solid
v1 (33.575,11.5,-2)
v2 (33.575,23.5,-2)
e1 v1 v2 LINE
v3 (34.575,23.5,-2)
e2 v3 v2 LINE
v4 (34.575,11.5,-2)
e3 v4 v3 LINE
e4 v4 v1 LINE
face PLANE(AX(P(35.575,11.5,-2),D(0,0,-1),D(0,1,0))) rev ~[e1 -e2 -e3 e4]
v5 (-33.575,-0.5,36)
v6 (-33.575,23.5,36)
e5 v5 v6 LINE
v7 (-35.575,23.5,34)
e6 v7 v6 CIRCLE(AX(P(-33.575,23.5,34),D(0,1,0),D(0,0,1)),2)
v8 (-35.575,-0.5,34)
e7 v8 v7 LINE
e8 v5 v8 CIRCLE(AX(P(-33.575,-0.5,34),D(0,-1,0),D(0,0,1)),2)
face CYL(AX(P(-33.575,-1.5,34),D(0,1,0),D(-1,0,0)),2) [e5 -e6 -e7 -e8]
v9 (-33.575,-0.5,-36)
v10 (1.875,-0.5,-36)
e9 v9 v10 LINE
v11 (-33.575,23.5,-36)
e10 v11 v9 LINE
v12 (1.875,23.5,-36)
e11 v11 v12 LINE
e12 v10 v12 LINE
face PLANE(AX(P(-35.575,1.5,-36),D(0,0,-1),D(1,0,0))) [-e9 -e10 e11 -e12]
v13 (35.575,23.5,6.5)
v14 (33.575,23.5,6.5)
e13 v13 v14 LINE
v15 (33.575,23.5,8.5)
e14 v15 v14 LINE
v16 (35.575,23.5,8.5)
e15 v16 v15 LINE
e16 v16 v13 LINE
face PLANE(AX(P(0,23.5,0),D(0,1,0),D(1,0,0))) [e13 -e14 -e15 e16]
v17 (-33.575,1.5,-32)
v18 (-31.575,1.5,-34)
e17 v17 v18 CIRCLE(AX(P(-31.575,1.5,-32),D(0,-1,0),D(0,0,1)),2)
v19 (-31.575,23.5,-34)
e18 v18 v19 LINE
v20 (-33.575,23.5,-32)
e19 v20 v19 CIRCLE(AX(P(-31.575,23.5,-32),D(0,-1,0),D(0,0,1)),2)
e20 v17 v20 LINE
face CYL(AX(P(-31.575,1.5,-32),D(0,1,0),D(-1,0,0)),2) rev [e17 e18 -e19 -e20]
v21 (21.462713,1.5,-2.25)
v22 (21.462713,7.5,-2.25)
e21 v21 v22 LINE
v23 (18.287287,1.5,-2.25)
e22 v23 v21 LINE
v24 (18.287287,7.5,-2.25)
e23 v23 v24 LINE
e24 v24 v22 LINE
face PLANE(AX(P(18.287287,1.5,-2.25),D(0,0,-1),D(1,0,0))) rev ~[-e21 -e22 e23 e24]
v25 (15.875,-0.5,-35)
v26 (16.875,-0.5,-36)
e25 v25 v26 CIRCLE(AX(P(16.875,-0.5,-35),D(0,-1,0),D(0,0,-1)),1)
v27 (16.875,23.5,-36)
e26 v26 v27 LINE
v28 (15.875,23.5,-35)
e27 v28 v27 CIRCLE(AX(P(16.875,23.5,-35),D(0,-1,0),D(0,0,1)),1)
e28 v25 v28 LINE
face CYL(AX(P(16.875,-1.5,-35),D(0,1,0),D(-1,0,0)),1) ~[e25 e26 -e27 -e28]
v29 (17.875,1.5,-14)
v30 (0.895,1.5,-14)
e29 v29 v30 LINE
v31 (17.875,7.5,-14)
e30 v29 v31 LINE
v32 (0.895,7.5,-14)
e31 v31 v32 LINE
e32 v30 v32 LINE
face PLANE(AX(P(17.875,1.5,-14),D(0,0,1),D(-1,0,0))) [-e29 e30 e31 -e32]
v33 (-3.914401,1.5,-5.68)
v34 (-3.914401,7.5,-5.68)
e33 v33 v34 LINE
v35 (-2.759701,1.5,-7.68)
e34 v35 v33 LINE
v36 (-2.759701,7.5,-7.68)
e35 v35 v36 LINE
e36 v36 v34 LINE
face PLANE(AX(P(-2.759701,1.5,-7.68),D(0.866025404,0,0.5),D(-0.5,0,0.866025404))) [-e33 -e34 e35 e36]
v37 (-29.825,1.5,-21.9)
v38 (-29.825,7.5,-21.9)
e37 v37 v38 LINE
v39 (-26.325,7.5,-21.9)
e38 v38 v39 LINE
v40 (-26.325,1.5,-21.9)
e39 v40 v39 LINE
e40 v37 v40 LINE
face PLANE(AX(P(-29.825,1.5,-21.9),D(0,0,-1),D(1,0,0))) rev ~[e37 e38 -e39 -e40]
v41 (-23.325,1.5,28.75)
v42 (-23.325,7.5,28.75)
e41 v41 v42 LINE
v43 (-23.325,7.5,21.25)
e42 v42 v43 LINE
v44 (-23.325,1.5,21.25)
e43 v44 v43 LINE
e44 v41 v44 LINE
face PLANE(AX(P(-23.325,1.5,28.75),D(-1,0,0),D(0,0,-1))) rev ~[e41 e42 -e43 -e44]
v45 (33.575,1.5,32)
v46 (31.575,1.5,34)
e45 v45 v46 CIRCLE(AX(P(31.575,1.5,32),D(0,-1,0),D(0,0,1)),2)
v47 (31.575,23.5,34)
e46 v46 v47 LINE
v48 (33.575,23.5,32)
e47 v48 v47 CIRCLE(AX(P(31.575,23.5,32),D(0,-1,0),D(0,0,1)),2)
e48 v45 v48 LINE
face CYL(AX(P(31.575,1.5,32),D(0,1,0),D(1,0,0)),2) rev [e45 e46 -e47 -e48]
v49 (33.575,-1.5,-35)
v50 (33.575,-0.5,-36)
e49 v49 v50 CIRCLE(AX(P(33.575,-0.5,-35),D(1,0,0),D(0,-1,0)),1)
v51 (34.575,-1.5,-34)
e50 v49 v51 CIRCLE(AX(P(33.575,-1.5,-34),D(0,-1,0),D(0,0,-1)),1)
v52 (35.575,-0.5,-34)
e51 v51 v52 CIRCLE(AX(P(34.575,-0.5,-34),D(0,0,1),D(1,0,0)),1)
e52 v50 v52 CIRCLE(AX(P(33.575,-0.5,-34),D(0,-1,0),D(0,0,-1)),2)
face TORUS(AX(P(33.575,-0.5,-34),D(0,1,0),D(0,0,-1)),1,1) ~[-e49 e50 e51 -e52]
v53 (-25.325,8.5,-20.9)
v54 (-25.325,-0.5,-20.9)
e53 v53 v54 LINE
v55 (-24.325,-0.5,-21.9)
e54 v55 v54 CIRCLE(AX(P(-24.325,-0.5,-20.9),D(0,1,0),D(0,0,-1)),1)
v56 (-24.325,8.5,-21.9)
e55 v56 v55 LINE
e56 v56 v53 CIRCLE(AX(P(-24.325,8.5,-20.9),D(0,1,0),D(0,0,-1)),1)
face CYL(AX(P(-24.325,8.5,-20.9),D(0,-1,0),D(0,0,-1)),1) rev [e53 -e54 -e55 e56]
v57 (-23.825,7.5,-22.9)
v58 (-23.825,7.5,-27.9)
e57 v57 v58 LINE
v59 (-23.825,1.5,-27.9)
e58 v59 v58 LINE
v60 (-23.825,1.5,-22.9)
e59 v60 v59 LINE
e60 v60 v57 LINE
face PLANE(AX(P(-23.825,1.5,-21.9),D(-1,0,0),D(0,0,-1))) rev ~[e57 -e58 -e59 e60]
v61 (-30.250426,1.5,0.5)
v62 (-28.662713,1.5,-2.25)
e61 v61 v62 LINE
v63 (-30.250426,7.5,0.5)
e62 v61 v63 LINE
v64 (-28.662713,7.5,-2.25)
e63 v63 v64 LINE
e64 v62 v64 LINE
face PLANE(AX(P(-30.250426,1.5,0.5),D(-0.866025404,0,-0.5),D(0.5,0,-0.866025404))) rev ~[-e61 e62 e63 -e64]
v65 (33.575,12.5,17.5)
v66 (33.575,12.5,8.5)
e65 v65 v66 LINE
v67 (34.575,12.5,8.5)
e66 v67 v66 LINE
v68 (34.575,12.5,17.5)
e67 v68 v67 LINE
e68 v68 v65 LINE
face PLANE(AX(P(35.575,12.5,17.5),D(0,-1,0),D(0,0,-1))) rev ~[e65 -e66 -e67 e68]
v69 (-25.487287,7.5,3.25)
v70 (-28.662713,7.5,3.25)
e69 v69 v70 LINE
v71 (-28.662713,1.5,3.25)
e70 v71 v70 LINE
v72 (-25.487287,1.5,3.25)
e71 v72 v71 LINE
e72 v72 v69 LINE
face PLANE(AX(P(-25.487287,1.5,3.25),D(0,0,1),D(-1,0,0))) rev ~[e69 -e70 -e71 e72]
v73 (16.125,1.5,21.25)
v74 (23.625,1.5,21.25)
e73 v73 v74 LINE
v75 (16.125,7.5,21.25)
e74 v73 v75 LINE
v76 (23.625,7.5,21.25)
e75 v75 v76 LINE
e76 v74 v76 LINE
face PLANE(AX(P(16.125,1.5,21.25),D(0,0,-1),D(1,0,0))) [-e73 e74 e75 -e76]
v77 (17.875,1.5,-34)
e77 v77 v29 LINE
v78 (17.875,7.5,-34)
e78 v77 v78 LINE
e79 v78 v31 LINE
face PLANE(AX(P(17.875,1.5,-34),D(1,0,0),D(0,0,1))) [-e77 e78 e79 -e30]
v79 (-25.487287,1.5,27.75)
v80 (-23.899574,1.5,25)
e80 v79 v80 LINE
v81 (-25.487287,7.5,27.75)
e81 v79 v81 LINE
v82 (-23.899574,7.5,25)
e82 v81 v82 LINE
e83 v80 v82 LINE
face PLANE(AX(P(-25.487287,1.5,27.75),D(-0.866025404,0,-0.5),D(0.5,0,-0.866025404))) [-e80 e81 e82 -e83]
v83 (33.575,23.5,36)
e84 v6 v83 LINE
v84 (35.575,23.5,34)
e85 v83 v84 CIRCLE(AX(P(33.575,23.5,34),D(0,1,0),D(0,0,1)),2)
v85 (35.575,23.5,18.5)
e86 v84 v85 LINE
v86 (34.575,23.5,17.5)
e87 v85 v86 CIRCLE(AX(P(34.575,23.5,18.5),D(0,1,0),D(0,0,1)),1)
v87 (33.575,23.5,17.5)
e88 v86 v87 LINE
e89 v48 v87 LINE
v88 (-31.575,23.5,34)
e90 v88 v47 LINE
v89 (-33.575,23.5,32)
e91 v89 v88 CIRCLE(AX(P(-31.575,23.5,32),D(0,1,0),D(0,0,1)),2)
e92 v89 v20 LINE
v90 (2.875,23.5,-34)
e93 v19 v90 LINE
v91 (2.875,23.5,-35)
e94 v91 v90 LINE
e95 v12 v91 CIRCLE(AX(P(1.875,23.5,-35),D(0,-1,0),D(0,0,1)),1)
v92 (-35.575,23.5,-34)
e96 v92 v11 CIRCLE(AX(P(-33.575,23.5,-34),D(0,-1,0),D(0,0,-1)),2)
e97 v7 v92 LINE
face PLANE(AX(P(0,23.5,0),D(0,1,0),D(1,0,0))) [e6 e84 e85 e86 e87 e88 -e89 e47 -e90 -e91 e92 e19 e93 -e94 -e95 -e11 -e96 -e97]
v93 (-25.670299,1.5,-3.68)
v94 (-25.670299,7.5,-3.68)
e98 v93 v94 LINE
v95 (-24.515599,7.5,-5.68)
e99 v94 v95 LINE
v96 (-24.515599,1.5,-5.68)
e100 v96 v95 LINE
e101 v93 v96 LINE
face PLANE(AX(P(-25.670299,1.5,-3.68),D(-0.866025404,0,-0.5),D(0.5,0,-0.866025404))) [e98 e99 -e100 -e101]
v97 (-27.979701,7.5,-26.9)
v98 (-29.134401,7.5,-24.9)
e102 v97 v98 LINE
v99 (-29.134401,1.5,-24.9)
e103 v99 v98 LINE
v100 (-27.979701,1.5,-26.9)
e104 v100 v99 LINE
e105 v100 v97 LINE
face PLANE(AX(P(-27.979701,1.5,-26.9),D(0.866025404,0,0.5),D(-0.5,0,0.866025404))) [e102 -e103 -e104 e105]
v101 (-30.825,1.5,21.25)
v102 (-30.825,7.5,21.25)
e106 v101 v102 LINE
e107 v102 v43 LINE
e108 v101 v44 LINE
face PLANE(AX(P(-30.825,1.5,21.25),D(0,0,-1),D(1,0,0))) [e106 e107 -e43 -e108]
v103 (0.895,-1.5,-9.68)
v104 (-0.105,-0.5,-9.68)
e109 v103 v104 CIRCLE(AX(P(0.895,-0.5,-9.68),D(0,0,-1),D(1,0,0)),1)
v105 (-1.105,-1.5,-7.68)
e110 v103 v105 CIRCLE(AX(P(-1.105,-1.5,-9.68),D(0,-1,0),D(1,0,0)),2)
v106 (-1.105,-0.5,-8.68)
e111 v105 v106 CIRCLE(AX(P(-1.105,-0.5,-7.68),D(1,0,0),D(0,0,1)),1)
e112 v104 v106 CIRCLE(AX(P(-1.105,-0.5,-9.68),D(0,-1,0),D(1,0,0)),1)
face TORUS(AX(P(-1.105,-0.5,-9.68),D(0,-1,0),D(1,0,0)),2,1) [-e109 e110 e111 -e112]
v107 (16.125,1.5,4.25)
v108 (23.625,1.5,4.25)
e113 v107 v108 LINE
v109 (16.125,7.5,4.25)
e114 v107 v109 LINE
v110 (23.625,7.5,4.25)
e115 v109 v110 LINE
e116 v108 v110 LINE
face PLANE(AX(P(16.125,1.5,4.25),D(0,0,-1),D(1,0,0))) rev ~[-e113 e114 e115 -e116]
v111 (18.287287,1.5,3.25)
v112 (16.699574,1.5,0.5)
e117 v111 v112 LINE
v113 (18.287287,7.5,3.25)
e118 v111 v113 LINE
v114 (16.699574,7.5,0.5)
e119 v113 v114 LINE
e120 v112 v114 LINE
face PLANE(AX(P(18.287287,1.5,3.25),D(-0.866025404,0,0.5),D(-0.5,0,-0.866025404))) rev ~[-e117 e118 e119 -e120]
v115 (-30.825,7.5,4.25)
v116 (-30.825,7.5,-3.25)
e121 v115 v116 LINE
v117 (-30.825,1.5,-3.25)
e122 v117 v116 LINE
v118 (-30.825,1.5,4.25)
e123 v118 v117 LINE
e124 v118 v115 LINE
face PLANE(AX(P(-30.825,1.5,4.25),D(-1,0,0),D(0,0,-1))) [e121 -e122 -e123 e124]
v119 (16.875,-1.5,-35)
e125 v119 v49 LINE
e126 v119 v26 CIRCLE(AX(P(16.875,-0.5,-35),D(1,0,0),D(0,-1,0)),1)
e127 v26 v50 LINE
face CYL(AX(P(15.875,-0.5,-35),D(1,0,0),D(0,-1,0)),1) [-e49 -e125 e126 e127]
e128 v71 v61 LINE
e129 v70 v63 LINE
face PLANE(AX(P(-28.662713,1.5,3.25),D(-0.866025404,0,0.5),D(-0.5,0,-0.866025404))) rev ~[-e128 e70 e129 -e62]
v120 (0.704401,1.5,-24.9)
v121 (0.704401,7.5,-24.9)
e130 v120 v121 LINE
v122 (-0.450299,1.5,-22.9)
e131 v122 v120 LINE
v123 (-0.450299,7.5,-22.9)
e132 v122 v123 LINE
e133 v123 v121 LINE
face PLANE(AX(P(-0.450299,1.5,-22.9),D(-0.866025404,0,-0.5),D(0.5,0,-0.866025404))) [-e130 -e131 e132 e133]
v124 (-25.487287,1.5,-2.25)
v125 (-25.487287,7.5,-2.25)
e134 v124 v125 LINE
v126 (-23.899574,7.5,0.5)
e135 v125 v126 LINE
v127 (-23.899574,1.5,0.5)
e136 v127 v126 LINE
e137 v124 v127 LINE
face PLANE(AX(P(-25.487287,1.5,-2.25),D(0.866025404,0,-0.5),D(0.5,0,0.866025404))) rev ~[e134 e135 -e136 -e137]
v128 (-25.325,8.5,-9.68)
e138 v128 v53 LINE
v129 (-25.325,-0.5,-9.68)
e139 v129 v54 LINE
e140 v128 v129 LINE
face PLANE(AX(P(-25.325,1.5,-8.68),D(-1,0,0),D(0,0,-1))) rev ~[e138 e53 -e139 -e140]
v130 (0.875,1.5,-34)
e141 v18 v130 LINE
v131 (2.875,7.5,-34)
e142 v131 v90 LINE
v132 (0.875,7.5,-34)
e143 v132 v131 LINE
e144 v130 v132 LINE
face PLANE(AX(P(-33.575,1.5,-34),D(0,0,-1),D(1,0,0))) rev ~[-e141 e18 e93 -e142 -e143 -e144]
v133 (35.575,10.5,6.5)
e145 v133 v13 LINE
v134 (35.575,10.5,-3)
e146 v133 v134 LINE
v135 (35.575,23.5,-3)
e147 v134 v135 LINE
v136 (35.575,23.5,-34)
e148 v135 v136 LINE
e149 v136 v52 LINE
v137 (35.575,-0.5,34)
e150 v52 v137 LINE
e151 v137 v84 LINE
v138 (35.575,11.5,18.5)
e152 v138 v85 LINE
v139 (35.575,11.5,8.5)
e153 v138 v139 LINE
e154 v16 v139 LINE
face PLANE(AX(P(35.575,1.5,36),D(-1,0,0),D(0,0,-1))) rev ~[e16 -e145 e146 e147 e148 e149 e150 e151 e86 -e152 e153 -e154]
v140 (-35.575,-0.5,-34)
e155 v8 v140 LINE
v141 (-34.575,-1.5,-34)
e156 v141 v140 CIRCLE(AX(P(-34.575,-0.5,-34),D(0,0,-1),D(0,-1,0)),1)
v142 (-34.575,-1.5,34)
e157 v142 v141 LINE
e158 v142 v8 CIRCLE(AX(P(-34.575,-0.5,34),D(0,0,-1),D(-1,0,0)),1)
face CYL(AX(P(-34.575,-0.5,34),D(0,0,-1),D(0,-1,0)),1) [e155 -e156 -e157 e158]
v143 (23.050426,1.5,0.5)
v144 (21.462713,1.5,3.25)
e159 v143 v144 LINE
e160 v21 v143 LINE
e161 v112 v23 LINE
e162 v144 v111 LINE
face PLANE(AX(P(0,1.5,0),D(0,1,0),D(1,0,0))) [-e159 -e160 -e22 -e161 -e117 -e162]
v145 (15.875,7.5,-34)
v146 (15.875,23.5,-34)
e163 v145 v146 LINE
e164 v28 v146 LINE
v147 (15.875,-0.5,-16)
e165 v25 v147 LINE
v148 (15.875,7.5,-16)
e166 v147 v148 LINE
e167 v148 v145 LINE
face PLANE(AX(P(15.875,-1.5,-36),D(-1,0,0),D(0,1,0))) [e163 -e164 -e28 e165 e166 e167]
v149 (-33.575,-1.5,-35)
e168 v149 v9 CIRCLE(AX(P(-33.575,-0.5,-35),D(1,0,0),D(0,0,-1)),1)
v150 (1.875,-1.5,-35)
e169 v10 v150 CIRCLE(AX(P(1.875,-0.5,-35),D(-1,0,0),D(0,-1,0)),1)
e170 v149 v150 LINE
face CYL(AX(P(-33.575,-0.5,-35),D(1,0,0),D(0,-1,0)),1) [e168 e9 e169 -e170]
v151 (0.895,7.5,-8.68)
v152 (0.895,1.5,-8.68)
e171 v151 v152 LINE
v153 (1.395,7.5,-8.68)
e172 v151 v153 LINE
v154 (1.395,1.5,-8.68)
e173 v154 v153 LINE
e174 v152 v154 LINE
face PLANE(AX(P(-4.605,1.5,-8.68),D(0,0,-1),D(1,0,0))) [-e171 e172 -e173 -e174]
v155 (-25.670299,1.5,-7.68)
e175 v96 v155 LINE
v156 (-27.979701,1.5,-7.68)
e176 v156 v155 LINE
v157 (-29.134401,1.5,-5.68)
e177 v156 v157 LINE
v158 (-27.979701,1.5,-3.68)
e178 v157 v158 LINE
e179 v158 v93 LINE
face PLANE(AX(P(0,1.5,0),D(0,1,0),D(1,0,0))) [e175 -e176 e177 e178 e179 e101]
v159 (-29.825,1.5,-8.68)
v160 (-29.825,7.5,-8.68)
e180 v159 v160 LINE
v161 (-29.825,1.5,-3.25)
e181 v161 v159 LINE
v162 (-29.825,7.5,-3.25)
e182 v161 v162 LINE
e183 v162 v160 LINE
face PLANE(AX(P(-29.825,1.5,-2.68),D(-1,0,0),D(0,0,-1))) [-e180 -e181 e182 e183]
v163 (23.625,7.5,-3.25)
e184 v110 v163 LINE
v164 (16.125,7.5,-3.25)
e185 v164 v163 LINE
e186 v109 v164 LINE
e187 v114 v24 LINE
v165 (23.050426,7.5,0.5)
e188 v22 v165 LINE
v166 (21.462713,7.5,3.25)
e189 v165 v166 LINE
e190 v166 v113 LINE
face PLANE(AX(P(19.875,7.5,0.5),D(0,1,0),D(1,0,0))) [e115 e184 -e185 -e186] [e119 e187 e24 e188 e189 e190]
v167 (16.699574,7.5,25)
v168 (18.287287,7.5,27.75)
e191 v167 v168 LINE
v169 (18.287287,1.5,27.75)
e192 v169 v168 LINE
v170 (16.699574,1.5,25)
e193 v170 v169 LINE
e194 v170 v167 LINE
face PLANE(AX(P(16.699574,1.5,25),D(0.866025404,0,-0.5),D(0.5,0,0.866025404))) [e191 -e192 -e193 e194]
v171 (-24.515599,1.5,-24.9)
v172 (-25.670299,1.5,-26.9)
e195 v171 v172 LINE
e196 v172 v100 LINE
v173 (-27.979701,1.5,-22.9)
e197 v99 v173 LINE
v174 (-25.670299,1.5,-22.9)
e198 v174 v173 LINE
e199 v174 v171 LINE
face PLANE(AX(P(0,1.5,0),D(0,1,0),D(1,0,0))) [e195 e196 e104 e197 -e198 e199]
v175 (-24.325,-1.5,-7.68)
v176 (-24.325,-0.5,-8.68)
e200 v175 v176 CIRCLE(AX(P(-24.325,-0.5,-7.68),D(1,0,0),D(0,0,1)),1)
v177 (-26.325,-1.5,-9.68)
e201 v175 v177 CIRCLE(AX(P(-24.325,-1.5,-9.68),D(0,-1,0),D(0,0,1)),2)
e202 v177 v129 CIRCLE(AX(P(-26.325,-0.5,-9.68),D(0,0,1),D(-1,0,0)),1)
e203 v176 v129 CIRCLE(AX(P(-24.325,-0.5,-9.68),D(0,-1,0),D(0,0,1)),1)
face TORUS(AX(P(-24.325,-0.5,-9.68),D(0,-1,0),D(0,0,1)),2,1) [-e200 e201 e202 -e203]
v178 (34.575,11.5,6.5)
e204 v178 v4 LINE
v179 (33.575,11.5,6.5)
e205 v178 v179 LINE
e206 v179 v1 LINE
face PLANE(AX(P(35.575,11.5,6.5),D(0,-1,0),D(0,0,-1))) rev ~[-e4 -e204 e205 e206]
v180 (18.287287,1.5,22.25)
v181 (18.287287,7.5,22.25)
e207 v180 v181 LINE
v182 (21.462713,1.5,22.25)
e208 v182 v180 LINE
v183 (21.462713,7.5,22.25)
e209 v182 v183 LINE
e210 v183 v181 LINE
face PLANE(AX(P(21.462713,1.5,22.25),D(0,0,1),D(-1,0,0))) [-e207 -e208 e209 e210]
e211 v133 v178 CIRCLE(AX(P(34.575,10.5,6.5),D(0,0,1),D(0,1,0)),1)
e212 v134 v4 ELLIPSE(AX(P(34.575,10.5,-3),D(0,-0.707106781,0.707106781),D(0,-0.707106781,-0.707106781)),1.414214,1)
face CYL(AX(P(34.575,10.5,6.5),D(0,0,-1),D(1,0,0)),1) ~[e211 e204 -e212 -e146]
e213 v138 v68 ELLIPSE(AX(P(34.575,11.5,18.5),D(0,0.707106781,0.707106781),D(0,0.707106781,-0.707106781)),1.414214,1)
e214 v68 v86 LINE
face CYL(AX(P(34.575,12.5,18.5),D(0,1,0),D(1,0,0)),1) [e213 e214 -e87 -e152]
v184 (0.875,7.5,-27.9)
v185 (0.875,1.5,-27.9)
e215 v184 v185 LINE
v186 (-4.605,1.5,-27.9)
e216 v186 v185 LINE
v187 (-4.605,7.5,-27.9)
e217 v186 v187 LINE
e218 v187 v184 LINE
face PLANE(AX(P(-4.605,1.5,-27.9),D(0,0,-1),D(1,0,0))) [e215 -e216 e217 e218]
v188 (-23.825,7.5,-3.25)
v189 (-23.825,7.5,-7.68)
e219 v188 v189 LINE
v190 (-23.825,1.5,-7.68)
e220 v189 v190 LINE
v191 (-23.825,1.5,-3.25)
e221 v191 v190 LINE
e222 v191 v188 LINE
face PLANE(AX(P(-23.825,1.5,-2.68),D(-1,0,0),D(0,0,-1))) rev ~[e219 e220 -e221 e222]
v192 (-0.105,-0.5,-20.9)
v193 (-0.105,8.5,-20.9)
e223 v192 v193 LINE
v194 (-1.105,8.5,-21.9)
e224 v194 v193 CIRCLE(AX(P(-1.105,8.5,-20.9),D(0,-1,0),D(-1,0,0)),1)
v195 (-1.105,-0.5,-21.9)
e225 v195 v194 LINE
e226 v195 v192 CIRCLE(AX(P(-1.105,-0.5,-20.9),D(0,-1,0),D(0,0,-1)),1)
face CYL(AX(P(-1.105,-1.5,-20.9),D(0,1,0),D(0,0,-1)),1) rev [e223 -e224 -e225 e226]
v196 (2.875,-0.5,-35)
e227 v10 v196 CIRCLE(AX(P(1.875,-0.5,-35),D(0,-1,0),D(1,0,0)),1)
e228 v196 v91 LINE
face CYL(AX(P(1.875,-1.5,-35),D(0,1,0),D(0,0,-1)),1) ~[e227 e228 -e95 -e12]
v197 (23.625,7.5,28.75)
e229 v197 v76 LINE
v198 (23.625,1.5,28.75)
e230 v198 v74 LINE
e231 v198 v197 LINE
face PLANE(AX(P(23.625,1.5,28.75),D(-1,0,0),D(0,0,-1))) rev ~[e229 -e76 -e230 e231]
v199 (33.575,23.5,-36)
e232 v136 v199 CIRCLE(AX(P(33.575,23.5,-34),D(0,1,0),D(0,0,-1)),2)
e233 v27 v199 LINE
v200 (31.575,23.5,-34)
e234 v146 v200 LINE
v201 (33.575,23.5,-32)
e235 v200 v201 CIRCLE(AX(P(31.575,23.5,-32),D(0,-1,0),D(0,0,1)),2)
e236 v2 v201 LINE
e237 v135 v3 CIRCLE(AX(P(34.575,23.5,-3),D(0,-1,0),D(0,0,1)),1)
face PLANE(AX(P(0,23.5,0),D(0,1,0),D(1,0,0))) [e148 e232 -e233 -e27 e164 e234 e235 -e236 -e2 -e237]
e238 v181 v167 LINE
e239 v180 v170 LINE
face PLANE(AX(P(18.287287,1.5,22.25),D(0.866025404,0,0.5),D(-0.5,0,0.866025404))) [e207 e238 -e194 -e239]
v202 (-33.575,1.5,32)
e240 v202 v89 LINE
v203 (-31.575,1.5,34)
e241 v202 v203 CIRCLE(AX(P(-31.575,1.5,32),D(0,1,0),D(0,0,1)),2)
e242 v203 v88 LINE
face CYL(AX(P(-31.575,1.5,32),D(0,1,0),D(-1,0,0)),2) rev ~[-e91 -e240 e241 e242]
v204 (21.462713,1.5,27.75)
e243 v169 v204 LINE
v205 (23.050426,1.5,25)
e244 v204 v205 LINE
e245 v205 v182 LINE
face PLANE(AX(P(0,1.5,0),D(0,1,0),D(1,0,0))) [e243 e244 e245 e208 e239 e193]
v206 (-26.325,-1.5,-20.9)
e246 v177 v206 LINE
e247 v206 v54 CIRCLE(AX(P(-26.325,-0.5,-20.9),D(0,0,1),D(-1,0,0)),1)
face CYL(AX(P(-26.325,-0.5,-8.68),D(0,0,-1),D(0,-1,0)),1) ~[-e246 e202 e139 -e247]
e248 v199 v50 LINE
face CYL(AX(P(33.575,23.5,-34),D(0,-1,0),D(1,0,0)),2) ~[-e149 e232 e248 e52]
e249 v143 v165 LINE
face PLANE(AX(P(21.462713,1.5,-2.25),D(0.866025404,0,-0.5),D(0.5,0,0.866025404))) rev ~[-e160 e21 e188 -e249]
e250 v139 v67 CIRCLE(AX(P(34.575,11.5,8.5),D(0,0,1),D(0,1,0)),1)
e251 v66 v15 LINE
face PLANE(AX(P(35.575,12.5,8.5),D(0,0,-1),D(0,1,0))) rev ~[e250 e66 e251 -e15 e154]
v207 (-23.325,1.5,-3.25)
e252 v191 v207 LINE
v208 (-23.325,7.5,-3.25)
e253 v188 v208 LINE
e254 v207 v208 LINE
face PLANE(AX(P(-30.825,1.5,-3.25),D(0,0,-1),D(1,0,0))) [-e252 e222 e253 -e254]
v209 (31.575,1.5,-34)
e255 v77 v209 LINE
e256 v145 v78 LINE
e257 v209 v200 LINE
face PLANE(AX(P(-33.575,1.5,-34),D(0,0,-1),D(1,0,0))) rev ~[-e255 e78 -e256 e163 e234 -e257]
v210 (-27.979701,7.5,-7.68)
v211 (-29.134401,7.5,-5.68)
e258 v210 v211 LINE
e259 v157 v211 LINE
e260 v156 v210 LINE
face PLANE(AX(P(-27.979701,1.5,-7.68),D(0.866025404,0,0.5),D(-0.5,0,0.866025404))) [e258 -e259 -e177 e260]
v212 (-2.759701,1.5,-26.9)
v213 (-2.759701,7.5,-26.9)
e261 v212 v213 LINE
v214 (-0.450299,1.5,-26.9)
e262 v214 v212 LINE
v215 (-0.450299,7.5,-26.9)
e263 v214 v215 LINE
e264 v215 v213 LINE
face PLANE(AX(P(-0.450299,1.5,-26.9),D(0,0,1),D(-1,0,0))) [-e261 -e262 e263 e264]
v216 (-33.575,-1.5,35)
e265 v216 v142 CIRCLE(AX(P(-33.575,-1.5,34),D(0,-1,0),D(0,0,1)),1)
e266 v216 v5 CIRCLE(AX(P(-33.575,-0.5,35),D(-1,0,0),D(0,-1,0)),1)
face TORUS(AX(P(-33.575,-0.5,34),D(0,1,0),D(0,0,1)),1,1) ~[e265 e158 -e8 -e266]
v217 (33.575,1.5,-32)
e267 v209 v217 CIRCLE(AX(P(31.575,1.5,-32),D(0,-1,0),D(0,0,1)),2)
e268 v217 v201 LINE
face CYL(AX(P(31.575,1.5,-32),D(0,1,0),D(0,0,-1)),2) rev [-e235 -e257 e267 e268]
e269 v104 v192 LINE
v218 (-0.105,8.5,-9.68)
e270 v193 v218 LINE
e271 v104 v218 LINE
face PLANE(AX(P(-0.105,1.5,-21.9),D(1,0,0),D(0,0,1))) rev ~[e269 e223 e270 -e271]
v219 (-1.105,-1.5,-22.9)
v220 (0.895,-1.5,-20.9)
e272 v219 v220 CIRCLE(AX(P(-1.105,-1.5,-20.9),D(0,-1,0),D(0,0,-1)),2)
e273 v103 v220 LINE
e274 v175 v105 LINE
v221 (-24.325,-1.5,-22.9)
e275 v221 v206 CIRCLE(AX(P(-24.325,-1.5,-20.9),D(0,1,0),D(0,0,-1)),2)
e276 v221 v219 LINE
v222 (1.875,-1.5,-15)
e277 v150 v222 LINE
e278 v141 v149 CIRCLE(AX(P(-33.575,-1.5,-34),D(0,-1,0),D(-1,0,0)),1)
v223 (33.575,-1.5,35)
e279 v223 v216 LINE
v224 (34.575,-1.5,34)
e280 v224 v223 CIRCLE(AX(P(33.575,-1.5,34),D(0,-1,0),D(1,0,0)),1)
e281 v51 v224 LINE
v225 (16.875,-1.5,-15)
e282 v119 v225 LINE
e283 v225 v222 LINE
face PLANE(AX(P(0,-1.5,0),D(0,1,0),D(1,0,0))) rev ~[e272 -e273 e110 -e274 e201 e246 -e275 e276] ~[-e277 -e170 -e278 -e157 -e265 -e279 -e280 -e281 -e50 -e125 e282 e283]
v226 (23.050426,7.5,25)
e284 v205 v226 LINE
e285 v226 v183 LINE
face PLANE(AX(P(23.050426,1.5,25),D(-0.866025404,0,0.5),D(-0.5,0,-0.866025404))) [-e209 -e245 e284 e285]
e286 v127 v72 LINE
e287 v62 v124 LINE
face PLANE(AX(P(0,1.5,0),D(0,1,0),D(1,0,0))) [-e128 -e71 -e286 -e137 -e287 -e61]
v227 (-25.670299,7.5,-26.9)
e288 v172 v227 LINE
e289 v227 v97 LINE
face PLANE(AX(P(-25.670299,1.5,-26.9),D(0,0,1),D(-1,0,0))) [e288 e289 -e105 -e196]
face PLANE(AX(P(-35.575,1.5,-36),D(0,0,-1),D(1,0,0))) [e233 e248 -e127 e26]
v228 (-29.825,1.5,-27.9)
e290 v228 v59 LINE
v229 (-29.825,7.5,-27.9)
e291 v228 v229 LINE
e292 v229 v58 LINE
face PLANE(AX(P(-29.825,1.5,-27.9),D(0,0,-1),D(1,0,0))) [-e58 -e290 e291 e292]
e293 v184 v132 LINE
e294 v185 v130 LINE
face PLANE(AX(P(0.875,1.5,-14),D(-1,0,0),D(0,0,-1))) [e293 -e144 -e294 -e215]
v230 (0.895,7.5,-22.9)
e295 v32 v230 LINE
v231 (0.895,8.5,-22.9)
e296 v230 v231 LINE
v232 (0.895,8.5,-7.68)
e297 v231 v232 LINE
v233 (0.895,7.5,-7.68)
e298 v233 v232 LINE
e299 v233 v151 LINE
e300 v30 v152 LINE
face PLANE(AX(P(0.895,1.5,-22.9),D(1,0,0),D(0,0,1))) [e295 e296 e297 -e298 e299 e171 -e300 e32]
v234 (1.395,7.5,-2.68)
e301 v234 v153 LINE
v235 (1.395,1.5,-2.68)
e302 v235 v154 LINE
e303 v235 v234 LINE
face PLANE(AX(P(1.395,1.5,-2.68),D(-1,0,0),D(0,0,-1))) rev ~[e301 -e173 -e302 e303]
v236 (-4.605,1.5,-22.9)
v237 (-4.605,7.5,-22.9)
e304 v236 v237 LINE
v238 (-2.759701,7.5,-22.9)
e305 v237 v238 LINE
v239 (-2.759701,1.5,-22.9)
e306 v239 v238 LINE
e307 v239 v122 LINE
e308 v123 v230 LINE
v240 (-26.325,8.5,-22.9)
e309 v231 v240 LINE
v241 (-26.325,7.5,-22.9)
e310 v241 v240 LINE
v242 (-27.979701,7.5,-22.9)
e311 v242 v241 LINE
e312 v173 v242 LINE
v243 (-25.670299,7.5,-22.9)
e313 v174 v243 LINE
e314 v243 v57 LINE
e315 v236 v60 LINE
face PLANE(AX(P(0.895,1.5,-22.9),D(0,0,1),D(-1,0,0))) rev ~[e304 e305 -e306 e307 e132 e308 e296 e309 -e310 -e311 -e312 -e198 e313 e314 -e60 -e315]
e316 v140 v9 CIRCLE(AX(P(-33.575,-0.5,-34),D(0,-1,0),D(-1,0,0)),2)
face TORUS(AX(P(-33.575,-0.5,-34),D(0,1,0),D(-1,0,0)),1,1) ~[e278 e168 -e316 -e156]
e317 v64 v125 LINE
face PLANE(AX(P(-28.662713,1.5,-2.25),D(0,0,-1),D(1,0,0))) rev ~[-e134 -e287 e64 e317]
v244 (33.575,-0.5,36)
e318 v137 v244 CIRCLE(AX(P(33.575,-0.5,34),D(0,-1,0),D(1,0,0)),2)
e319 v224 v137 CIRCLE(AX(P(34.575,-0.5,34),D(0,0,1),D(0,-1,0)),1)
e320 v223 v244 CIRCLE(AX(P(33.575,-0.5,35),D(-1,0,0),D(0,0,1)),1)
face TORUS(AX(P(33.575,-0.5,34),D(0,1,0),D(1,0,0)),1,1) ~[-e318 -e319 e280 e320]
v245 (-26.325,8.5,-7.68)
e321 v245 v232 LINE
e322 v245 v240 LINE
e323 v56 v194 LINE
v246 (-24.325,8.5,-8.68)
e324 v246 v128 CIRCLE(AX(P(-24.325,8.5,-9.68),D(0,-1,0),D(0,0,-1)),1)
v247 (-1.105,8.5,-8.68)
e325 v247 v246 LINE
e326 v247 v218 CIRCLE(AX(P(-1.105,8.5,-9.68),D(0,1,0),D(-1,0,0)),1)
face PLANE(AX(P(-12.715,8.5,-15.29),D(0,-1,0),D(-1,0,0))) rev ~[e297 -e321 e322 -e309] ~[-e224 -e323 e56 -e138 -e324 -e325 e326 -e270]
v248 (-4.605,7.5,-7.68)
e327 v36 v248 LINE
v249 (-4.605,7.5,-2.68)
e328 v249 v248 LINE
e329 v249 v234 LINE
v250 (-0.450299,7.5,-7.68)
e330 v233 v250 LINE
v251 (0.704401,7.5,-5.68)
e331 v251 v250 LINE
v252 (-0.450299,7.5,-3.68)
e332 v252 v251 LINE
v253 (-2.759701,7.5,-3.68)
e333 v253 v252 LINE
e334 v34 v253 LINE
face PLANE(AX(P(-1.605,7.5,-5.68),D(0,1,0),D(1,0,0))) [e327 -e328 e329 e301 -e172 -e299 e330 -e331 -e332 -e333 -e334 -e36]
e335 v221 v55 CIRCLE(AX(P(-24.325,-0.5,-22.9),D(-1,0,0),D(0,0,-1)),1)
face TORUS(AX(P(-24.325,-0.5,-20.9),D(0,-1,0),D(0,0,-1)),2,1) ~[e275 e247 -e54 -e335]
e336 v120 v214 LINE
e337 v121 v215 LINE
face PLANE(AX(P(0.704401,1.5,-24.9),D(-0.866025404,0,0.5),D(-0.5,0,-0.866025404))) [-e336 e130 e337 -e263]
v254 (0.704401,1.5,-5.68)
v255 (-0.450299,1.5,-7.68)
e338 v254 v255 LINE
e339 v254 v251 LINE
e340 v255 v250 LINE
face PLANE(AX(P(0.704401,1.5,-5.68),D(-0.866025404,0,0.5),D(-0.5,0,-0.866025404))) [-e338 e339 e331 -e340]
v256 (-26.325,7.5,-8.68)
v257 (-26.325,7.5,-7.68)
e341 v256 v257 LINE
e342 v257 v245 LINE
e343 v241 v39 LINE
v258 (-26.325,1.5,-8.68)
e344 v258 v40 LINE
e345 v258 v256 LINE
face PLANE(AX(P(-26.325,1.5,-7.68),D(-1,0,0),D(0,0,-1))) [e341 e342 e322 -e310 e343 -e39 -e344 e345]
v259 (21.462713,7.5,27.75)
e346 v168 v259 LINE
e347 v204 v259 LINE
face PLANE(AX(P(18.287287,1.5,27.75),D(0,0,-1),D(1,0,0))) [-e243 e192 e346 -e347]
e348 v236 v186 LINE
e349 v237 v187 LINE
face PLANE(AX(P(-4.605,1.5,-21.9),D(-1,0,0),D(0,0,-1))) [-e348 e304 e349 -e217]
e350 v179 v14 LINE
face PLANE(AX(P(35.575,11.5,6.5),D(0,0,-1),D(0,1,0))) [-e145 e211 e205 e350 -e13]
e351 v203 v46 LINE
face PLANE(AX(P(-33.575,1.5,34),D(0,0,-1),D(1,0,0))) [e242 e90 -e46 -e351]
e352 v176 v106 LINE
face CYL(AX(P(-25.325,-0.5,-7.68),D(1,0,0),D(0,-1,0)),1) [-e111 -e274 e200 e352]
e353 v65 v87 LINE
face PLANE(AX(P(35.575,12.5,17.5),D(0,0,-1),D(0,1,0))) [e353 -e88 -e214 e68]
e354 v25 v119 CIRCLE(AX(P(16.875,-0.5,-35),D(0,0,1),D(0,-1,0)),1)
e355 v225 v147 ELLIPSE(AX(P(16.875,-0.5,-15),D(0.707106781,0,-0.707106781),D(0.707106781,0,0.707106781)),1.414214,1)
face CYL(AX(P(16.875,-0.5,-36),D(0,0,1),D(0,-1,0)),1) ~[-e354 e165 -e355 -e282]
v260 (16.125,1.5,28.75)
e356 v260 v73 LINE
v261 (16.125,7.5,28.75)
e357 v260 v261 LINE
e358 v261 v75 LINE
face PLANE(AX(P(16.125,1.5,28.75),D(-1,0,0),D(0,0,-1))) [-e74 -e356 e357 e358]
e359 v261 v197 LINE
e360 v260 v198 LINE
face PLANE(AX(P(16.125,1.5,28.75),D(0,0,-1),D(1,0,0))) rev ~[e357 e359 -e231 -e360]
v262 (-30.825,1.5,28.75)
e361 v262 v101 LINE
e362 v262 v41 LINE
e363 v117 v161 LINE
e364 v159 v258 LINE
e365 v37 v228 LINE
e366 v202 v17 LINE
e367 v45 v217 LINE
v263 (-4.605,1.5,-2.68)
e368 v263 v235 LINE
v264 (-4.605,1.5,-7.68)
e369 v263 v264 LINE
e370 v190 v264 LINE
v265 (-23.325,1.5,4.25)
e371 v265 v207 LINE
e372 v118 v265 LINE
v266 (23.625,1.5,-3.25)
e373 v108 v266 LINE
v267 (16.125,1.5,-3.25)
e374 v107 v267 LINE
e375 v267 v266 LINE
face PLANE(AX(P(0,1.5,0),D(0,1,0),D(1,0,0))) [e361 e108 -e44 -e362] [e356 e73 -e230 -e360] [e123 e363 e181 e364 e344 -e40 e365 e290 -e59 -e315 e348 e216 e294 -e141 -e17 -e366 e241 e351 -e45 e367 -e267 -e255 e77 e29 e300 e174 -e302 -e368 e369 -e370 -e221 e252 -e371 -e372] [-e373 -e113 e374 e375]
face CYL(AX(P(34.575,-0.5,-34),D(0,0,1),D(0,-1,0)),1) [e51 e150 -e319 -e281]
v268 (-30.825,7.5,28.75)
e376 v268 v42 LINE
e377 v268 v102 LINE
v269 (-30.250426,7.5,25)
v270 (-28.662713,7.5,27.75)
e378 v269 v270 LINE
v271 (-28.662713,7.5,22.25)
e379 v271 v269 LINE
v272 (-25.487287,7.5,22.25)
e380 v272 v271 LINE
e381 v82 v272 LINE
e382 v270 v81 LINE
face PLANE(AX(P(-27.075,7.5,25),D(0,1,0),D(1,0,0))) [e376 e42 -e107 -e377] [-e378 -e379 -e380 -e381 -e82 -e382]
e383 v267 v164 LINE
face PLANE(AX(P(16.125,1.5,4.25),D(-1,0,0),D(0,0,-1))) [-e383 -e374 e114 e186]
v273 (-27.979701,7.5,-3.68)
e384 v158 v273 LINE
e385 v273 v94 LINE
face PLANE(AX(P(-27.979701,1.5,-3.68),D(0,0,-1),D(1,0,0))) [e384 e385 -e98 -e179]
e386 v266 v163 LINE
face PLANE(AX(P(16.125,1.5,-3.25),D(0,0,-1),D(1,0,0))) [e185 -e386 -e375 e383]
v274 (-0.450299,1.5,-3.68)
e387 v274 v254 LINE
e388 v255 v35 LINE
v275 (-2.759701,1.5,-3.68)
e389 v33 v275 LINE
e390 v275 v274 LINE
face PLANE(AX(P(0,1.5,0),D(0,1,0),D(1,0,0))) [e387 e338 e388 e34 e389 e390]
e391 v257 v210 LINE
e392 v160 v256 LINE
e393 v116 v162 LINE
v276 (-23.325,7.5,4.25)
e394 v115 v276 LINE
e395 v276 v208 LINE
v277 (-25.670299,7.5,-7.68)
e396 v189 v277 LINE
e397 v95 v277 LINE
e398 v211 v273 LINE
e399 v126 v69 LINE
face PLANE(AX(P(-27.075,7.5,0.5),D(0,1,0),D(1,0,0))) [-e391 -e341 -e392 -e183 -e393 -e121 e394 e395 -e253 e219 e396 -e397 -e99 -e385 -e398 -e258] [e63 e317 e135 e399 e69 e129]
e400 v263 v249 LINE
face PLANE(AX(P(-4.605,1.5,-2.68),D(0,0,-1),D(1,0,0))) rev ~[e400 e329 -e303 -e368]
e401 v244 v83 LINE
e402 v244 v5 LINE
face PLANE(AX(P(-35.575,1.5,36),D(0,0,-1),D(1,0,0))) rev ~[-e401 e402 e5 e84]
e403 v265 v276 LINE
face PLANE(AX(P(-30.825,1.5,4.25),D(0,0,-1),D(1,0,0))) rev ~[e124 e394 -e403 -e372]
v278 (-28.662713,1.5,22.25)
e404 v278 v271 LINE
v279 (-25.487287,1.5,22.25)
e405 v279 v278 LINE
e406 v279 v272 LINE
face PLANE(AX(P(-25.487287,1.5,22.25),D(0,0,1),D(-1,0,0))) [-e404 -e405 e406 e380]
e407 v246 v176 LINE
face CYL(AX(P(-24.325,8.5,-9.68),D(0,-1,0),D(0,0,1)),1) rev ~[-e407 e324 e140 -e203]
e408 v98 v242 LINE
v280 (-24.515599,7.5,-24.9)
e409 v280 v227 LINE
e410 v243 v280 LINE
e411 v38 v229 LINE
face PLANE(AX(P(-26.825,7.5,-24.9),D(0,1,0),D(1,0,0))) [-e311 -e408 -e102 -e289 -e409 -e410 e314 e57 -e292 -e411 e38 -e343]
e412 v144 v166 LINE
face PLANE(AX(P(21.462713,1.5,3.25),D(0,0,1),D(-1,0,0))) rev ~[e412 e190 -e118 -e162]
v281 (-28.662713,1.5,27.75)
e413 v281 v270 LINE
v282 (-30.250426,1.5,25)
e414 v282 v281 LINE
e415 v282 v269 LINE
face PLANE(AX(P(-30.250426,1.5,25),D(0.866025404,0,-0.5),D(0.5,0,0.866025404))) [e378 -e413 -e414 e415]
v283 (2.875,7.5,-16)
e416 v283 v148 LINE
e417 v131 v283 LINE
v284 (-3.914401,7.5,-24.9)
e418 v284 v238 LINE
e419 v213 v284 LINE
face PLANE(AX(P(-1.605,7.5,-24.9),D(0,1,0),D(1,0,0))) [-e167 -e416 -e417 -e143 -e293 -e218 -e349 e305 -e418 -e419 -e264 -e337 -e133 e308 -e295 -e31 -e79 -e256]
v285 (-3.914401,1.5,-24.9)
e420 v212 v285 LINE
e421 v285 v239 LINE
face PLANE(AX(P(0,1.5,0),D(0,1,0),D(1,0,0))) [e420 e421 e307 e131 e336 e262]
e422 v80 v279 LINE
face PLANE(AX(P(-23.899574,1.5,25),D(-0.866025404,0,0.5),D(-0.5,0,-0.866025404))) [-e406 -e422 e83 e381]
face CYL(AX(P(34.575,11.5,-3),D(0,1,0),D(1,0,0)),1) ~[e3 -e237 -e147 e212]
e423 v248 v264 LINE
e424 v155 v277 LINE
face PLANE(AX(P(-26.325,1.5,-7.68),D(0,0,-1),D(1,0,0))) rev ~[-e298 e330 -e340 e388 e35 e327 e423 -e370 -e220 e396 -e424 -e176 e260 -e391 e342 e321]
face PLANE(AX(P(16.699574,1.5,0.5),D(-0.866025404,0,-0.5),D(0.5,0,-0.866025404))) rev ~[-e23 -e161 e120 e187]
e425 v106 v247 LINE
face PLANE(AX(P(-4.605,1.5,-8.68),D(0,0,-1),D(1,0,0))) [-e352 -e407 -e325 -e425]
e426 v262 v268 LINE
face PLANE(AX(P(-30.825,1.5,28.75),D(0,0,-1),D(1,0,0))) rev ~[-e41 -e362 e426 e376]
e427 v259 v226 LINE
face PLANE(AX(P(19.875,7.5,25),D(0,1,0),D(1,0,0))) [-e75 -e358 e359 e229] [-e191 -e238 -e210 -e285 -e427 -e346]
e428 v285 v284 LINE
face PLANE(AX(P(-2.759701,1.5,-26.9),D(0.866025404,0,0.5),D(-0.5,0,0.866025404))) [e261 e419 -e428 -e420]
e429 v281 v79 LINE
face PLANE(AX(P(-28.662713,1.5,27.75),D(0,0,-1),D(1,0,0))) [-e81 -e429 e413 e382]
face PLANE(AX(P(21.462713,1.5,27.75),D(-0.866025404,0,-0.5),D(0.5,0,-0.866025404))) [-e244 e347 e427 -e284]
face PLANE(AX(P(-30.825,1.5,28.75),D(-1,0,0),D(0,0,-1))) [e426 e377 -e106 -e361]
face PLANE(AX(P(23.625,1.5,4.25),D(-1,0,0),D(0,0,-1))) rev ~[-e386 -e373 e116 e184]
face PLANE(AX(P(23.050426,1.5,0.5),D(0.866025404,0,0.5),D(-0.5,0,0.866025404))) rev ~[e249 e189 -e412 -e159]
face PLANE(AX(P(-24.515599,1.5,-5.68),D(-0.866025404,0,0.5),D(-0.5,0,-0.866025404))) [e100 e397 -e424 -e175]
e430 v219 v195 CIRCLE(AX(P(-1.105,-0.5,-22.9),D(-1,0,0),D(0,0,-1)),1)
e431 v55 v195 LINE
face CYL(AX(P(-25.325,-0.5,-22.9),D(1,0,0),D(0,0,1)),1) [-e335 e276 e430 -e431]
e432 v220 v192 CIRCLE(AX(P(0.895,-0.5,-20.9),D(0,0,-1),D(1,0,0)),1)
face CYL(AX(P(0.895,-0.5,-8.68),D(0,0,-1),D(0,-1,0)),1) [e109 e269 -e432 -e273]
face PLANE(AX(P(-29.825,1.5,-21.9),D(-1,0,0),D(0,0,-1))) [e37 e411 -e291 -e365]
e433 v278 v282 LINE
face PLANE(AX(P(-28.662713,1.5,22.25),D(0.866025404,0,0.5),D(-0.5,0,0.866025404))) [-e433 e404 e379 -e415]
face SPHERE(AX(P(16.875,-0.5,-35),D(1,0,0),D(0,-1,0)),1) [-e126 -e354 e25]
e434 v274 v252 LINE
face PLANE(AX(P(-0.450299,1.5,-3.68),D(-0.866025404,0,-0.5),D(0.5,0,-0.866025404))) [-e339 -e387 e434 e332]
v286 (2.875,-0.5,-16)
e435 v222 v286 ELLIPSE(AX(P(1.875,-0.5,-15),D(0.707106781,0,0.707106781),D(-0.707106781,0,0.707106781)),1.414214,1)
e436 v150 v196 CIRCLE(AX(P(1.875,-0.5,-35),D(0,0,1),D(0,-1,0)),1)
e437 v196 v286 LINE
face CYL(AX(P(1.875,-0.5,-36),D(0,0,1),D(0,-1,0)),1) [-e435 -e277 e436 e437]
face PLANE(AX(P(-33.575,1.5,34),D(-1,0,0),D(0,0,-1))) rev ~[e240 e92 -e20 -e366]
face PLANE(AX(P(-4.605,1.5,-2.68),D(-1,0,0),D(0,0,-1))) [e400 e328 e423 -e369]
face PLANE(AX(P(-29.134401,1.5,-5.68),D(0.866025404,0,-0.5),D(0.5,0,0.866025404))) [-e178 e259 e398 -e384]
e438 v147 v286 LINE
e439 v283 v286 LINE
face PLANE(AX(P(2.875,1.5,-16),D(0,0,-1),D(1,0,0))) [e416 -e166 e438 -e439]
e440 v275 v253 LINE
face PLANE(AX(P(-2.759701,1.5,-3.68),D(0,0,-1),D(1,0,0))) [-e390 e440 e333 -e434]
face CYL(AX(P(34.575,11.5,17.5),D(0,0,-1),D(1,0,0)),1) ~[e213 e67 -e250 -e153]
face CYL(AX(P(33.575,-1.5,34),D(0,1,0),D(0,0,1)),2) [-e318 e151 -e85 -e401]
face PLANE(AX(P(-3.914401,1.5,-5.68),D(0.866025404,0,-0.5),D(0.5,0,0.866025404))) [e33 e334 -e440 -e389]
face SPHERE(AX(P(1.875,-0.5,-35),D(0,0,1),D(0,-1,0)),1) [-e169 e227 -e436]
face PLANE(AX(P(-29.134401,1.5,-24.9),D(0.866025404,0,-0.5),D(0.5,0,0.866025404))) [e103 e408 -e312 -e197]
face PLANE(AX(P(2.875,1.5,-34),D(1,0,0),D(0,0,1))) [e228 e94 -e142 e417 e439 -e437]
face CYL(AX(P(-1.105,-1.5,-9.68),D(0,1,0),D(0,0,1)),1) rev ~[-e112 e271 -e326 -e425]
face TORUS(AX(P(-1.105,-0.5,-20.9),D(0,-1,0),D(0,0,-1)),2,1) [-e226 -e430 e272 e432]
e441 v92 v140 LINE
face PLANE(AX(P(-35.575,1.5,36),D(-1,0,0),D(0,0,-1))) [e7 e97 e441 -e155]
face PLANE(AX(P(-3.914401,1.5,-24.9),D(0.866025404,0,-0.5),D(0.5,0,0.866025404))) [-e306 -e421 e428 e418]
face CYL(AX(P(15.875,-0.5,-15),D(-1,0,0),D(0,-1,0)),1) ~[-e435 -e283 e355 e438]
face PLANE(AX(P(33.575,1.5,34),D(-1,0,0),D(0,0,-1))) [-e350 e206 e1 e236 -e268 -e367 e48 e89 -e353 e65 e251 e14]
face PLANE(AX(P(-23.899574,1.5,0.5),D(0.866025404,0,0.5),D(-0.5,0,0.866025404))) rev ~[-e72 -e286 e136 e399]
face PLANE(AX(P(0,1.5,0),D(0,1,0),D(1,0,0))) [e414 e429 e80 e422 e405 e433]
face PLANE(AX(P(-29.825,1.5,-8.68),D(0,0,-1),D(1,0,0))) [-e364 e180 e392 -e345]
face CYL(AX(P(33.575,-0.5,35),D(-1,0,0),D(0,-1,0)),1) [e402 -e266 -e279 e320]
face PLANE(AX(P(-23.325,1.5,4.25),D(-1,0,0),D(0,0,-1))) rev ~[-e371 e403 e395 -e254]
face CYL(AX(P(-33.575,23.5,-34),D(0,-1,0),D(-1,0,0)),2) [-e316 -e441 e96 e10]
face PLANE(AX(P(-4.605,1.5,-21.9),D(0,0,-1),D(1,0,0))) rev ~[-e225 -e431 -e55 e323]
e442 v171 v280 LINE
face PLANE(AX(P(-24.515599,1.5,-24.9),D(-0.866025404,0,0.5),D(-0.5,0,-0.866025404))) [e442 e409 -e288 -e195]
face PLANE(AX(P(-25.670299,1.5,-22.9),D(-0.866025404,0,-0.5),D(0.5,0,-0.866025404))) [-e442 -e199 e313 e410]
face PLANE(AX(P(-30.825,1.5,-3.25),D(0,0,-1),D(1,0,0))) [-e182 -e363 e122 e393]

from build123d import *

# Parameters (mm, degrees)
ESBO_O1_W                  = 71.15
ESBO_O1_H                  = 72
RESSALTO_EXTRUS_O1_DEPTH   = 1.5
ESBO_O2_W                  = 71.15
ESBO_O2_H                  = 72
ESBO_O2_W_2                = 67.15
ESBO_O2_H_2                = 68
RESSALTO_EXTRUS_O2_DEPTH   = 22
FILETE1_R                  = 2
ESBO_O3_W                  = 13
ESBO_O3_H                  = 25
CORTE_EXTRUS_O1_DEPTH      = 20
RESSALTO_EXTRUS_O3_DEPTH   = 6
ESBO_O5_W                  = 9
ESBO_O5_H                  = 11
CORTE_EXTRUS_O2_DEPTH      = 1
CORTE_EXTRUS_O2_DEPTH_BACK = 2
ESBO_O6_W                  = 8.5
ESBO_O6_H                  = 12
CORTE_EXTRUS_O3_DEPTH      = 2
ESBO_O7_W                  = 7.5
ESBO_O7_H                  = 7.5
RESSALTO_EXTRUS_O4_DEPTH   = 6
ESBO_O8_W                  = 6
ESBO_O8_H                  = 6
RESSALTO_EXTRUS_O5_DEPTH   = 6
RESSALTO_EXTRUS_O6_DEPTH   = 7
ESBO_O10_W                 = 25.22
ESBO_O10_H                 = 13.22
CORTE_EXTRUS_O4_DEPTH      = 3
FILETE3_R                  = 1
FILETE4_R                  = 1


with BuildPart() as part:
    # Esboço1 → Ressalto-extrusão1 (new body, symmetric)
    with BuildSketch(Plane(origin=(0, 0, 0), x_dir=(1, 0, 0), z_dir=(0, 1, 0))):
        Rectangle(ESBO_O1_W, ESBO_O1_H)
    extrude(amount=RESSALTO_EXTRUS_O1_DEPTH, both=True)

    # Esboço2 → Ressalto-extrusão2 (add)
    with BuildSketch(Plane(origin=(0, 1.5, 0), x_dir=(1, 0, 0), z_dir=(0, 1, 0))):
        Rectangle(ESBO_O2_W, ESBO_O2_H)
        Rectangle(ESBO_O2_W_2, ESBO_O2_H_2, mode=Mode.SUBTRACT)
    extrude(amount=RESSALTO_EXTRUS_O2_DEPTH)

    # Filete1
    filete1_edges = [part.edges().sort_by_distance(p)[0] for p in [
        (-33.575, 12.5, -34),
        (-33.575, 12.5, 34),
        (33.575, 12.5, 34),
        (33.575, 12.5, -34),
        (-35.575, 11, -36),
        (35.575, 11, -36),
        (35.575, 11, 36),
        (-35.575, 11, 36),
    ]]
    fillet(filete1_edges, radius=FILETE1_R)

    # Esboço3 → Corte-extrusão1 (cut)
    with BuildSketch(Plane(origin=(0, 0, -36), x_dir=(-1, 0, 0), z_dir=(0, 0, -1))):
        with Locations((-9.375, 11)):
            Rectangle(ESBO_O3_W, ESBO_O3_H)
    extrude(amount=-CORTE_EXTRUS_O1_DEPTH, mode=Mode.SUBTRACT)

    # Esboço4 → Ressalto-extrusão3 (add)
    with BuildSketch(Plane(origin=(0, 1.5, 0), x_dir=(1, 0, 0), z_dir=(0, 1, 0))):
        Polygon((17.875, 34), (17.875, 14), (0.875, 14), (0.875, 34), (2.875, 34), (2.875, 16), (15.875, 16), (15.875, 34), align=None)
    extrude(amount=RESSALTO_EXTRUS_O3_DEPTH)

    # Esboço5 → Corte-extrusão2 (cut, two sides)
    with BuildSketch(Plane(origin=(35.575, 0, 0), x_dir=(0, 0, -1), z_dir=(1, 0, 0))) as corte_extrus_o2_sk:
        with Locations((-13, 18)):
            Rectangle(ESBO_O5_W, ESBO_O5_H)
    extrude(amount=CORTE_EXTRUS_O2_DEPTH, mode=Mode.SUBTRACT)
    extrude(corte_extrus_o2_sk.sketch, amount=-CORTE_EXTRUS_O2_DEPTH_BACK, mode=Mode.SUBTRACT)

    # Esboço6 → Corte-extrusão3 (cut)
    with BuildSketch(Plane(origin=(35.575, 0, 0), x_dir=(0, 0, -1), z_dir=(1, 0, 0))):
        with Locations((-2.25, 17.5)):
            Rectangle(ESBO_O6_W, ESBO_O6_H)
    extrude(amount=-CORTE_EXTRUS_O3_DEPTH, mode=Mode.SUBTRACT)

    # Esboço7 → Ressalto-extrusão4 (add)
    with BuildSketch(Plane(origin=(0, 1.5, 0), x_dir=(1, 0, 0), z_dir=(0, 1, 0))):
        with Locations((-27.075, -25)):
            Rectangle(ESBO_O7_W, ESBO_O7_H)
        Polygon((-28.66271324, -22.25), (-30.250426481, -25), (-28.66271324, -27.75), (-25.48728676, -27.75), (-23.899573519, -25), (-25.48728676, -22.25), align=None, mode=Mode.SUBTRACT)
        with Locations((19.875, -25)):
            Rectangle(ESBO_O7_W, ESBO_O7_H)
        Polygon((18.28728676, -22.25), (16.699573519, -25), (18.28728676, -27.75), (21.46271324, -27.75), (23.050426481, -25), (21.46271324, -22.25), align=None, mode=Mode.SUBTRACT)
        with Locations((19.875, -0.5)):
            Rectangle(ESBO_O7_W, ESBO_O7_H)
        Polygon((21.46271324, -3.25), (18.28728676, -3.25), (16.699573519, -0.5), (18.28728676, 2.25), (21.46271324, 2.25), (23.050426481, -0.5), align=None, mode=Mode.SUBTRACT)
        with Locations((-27.075, -0.5)):
            Rectangle(ESBO_O7_W, ESBO_O7_H)
        Polygon((-25.48728676, -3.25), (-28.66271324, -3.25), (-30.250426481, -0.5), (-28.66271324, 2.25), (-25.48728676, 2.25), (-23.899573519, -0.5), align=None, mode=Mode.SUBTRACT)
    extrude(amount=RESSALTO_EXTRUS_O4_DEPTH)

    # Esboço8 → Ressalto-extrusão5 (add)
    with BuildSketch(Plane(origin=(0, 1.5, 0), x_dir=(1, 0, 0), z_dir=(0, 1, 0))):
        with Locations((-26.825, 24.9)):
            Rectangle(ESBO_O8_W, ESBO_O8_H)
        Polygon((-27.979700538, 26.9), (-29.134401077, 24.9), (-27.979700538, 22.9), (-25.670299462, 22.9), (-24.515598923, 24.9), (-25.670299462, 26.9), align=None, mode=Mode.SUBTRACT)
        with Locations((-1.605, 24.9)):
            Rectangle(ESBO_O8_W, ESBO_O8_H)
        Polygon((-2.759700538, 26.9), (-3.914401077, 24.9), (-2.759700538, 22.9), (-0.450299462, 22.9), (0.704401077, 24.9), (-0.450299462, 26.9), align=None, mode=Mode.SUBTRACT)
        with Locations((-1.605, 5.68)):
            Rectangle(ESBO_O8_W, ESBO_O8_H)
        Polygon((-2.759700538, 7.68), (-3.914401077, 5.68), (-2.759700538, 3.68), (-0.450299462, 3.68), (0.704401077, 5.68), (-0.450299462, 7.68), align=None, mode=Mode.SUBTRACT)
        with Locations((-26.825, 5.68)):
            Rectangle(ESBO_O8_W, ESBO_O8_H)
        Polygon((-27.979700538, 7.68), (-29.134401077, 5.68), (-27.979700538, 3.68), (-25.670299462, 3.68), (-24.515598923, 5.68), (-25.670299462, 7.68), align=None, mode=Mode.SUBTRACT)
    extrude(amount=RESSALTO_EXTRUS_O5_DEPTH)

    # Esboço9 → Ressalto-extrusão6 (add)
    with BuildSketch(Plane(origin=(0, 1.5, 0), x_dir=(1, 0, 0), z_dir=(0, 1, 0))):
        Polygon((-23.825, 22.9), (-4.605, 22.9), (0.895, 22.9), (0.895, 7.68), (-4.605, 7.68), (-23.825, 7.68), (-26.325, 7.68), (-26.325, 22.9), align=None)
        Polygon((-23.825, 21.9), (-4.605, 21.9), (-0.105, 21.9), (-0.105, 8.68), (-4.605, 8.68), (-23.825, 8.68), (-25.325, 8.68), (-25.325, 21.9), align=None, mode=Mode.SUBTRACT)
    extrude(amount=RESSALTO_EXTRUS_O6_DEPTH)

    # Esboço10 → Corte-extrusão4 (cut)
    with BuildSketch(Plane(origin=(0, 1.5, 0), x_dir=(1, 0, 0), z_dir=(0, 1, 0))):
        with Locations((-12.715, 15.29)):
            Rectangle(ESBO_O10_W, ESBO_O10_H)
    extrude(amount=-CORTE_EXTRUS_O4_DEPTH, mode=Mode.SUBTRACT)

    # Filete3
    filete3_edges = [part.edges().sort_by_distance(p)[0] for p in [
        (-25.325, 3.5, -8.68),
        (-25.325, 3.5, -21.9),
        (-0.105, 3.5, -8.68),
        (-0.105, 3.5, -21.9),
        (-12.715, -1.5, -21.9),
        (-0.105, -1.5, -15.29),
        (-12.715, -1.5, -8.68),
        (-25.325, -1.5, -15.29),
    ]]
    fillet(filete3_edges, radius=FILETE3_R)

    # Filete4
    filete4_edges = [part.edges().sort_by_distance(p)[0] for p in [
        (2.875, -1.5, -26),
        (-15.35, -1.5, -36),
        (-34.989213562, -1.5, -35.414213562),
        (-35.575, -1.5, 0),
        (-34.989213562, -1.5, 35.414213562),
        (0, -1.5, 36),
        (34.989213562, -1.5, 35.414213562),
        (35.575, -1.5, 0),
        (34.989213562, -1.5, -35.414213562),
        (24.725, -1.5, -36),
        (15.875, -1.5, -26),
        (9.375, -1.5, -16),
        (35.575, 18, 17.5),
        (35.575, 12.5, 13),
        (35.575, 11.5, 2.25),
        (35.575, 17.5, -2),
        (15.875, 11, -36),
        (2.875, 11, -36),
    ]]
    fillet(filete4_edges, radius=FILETE4_R)


solid = part.part
